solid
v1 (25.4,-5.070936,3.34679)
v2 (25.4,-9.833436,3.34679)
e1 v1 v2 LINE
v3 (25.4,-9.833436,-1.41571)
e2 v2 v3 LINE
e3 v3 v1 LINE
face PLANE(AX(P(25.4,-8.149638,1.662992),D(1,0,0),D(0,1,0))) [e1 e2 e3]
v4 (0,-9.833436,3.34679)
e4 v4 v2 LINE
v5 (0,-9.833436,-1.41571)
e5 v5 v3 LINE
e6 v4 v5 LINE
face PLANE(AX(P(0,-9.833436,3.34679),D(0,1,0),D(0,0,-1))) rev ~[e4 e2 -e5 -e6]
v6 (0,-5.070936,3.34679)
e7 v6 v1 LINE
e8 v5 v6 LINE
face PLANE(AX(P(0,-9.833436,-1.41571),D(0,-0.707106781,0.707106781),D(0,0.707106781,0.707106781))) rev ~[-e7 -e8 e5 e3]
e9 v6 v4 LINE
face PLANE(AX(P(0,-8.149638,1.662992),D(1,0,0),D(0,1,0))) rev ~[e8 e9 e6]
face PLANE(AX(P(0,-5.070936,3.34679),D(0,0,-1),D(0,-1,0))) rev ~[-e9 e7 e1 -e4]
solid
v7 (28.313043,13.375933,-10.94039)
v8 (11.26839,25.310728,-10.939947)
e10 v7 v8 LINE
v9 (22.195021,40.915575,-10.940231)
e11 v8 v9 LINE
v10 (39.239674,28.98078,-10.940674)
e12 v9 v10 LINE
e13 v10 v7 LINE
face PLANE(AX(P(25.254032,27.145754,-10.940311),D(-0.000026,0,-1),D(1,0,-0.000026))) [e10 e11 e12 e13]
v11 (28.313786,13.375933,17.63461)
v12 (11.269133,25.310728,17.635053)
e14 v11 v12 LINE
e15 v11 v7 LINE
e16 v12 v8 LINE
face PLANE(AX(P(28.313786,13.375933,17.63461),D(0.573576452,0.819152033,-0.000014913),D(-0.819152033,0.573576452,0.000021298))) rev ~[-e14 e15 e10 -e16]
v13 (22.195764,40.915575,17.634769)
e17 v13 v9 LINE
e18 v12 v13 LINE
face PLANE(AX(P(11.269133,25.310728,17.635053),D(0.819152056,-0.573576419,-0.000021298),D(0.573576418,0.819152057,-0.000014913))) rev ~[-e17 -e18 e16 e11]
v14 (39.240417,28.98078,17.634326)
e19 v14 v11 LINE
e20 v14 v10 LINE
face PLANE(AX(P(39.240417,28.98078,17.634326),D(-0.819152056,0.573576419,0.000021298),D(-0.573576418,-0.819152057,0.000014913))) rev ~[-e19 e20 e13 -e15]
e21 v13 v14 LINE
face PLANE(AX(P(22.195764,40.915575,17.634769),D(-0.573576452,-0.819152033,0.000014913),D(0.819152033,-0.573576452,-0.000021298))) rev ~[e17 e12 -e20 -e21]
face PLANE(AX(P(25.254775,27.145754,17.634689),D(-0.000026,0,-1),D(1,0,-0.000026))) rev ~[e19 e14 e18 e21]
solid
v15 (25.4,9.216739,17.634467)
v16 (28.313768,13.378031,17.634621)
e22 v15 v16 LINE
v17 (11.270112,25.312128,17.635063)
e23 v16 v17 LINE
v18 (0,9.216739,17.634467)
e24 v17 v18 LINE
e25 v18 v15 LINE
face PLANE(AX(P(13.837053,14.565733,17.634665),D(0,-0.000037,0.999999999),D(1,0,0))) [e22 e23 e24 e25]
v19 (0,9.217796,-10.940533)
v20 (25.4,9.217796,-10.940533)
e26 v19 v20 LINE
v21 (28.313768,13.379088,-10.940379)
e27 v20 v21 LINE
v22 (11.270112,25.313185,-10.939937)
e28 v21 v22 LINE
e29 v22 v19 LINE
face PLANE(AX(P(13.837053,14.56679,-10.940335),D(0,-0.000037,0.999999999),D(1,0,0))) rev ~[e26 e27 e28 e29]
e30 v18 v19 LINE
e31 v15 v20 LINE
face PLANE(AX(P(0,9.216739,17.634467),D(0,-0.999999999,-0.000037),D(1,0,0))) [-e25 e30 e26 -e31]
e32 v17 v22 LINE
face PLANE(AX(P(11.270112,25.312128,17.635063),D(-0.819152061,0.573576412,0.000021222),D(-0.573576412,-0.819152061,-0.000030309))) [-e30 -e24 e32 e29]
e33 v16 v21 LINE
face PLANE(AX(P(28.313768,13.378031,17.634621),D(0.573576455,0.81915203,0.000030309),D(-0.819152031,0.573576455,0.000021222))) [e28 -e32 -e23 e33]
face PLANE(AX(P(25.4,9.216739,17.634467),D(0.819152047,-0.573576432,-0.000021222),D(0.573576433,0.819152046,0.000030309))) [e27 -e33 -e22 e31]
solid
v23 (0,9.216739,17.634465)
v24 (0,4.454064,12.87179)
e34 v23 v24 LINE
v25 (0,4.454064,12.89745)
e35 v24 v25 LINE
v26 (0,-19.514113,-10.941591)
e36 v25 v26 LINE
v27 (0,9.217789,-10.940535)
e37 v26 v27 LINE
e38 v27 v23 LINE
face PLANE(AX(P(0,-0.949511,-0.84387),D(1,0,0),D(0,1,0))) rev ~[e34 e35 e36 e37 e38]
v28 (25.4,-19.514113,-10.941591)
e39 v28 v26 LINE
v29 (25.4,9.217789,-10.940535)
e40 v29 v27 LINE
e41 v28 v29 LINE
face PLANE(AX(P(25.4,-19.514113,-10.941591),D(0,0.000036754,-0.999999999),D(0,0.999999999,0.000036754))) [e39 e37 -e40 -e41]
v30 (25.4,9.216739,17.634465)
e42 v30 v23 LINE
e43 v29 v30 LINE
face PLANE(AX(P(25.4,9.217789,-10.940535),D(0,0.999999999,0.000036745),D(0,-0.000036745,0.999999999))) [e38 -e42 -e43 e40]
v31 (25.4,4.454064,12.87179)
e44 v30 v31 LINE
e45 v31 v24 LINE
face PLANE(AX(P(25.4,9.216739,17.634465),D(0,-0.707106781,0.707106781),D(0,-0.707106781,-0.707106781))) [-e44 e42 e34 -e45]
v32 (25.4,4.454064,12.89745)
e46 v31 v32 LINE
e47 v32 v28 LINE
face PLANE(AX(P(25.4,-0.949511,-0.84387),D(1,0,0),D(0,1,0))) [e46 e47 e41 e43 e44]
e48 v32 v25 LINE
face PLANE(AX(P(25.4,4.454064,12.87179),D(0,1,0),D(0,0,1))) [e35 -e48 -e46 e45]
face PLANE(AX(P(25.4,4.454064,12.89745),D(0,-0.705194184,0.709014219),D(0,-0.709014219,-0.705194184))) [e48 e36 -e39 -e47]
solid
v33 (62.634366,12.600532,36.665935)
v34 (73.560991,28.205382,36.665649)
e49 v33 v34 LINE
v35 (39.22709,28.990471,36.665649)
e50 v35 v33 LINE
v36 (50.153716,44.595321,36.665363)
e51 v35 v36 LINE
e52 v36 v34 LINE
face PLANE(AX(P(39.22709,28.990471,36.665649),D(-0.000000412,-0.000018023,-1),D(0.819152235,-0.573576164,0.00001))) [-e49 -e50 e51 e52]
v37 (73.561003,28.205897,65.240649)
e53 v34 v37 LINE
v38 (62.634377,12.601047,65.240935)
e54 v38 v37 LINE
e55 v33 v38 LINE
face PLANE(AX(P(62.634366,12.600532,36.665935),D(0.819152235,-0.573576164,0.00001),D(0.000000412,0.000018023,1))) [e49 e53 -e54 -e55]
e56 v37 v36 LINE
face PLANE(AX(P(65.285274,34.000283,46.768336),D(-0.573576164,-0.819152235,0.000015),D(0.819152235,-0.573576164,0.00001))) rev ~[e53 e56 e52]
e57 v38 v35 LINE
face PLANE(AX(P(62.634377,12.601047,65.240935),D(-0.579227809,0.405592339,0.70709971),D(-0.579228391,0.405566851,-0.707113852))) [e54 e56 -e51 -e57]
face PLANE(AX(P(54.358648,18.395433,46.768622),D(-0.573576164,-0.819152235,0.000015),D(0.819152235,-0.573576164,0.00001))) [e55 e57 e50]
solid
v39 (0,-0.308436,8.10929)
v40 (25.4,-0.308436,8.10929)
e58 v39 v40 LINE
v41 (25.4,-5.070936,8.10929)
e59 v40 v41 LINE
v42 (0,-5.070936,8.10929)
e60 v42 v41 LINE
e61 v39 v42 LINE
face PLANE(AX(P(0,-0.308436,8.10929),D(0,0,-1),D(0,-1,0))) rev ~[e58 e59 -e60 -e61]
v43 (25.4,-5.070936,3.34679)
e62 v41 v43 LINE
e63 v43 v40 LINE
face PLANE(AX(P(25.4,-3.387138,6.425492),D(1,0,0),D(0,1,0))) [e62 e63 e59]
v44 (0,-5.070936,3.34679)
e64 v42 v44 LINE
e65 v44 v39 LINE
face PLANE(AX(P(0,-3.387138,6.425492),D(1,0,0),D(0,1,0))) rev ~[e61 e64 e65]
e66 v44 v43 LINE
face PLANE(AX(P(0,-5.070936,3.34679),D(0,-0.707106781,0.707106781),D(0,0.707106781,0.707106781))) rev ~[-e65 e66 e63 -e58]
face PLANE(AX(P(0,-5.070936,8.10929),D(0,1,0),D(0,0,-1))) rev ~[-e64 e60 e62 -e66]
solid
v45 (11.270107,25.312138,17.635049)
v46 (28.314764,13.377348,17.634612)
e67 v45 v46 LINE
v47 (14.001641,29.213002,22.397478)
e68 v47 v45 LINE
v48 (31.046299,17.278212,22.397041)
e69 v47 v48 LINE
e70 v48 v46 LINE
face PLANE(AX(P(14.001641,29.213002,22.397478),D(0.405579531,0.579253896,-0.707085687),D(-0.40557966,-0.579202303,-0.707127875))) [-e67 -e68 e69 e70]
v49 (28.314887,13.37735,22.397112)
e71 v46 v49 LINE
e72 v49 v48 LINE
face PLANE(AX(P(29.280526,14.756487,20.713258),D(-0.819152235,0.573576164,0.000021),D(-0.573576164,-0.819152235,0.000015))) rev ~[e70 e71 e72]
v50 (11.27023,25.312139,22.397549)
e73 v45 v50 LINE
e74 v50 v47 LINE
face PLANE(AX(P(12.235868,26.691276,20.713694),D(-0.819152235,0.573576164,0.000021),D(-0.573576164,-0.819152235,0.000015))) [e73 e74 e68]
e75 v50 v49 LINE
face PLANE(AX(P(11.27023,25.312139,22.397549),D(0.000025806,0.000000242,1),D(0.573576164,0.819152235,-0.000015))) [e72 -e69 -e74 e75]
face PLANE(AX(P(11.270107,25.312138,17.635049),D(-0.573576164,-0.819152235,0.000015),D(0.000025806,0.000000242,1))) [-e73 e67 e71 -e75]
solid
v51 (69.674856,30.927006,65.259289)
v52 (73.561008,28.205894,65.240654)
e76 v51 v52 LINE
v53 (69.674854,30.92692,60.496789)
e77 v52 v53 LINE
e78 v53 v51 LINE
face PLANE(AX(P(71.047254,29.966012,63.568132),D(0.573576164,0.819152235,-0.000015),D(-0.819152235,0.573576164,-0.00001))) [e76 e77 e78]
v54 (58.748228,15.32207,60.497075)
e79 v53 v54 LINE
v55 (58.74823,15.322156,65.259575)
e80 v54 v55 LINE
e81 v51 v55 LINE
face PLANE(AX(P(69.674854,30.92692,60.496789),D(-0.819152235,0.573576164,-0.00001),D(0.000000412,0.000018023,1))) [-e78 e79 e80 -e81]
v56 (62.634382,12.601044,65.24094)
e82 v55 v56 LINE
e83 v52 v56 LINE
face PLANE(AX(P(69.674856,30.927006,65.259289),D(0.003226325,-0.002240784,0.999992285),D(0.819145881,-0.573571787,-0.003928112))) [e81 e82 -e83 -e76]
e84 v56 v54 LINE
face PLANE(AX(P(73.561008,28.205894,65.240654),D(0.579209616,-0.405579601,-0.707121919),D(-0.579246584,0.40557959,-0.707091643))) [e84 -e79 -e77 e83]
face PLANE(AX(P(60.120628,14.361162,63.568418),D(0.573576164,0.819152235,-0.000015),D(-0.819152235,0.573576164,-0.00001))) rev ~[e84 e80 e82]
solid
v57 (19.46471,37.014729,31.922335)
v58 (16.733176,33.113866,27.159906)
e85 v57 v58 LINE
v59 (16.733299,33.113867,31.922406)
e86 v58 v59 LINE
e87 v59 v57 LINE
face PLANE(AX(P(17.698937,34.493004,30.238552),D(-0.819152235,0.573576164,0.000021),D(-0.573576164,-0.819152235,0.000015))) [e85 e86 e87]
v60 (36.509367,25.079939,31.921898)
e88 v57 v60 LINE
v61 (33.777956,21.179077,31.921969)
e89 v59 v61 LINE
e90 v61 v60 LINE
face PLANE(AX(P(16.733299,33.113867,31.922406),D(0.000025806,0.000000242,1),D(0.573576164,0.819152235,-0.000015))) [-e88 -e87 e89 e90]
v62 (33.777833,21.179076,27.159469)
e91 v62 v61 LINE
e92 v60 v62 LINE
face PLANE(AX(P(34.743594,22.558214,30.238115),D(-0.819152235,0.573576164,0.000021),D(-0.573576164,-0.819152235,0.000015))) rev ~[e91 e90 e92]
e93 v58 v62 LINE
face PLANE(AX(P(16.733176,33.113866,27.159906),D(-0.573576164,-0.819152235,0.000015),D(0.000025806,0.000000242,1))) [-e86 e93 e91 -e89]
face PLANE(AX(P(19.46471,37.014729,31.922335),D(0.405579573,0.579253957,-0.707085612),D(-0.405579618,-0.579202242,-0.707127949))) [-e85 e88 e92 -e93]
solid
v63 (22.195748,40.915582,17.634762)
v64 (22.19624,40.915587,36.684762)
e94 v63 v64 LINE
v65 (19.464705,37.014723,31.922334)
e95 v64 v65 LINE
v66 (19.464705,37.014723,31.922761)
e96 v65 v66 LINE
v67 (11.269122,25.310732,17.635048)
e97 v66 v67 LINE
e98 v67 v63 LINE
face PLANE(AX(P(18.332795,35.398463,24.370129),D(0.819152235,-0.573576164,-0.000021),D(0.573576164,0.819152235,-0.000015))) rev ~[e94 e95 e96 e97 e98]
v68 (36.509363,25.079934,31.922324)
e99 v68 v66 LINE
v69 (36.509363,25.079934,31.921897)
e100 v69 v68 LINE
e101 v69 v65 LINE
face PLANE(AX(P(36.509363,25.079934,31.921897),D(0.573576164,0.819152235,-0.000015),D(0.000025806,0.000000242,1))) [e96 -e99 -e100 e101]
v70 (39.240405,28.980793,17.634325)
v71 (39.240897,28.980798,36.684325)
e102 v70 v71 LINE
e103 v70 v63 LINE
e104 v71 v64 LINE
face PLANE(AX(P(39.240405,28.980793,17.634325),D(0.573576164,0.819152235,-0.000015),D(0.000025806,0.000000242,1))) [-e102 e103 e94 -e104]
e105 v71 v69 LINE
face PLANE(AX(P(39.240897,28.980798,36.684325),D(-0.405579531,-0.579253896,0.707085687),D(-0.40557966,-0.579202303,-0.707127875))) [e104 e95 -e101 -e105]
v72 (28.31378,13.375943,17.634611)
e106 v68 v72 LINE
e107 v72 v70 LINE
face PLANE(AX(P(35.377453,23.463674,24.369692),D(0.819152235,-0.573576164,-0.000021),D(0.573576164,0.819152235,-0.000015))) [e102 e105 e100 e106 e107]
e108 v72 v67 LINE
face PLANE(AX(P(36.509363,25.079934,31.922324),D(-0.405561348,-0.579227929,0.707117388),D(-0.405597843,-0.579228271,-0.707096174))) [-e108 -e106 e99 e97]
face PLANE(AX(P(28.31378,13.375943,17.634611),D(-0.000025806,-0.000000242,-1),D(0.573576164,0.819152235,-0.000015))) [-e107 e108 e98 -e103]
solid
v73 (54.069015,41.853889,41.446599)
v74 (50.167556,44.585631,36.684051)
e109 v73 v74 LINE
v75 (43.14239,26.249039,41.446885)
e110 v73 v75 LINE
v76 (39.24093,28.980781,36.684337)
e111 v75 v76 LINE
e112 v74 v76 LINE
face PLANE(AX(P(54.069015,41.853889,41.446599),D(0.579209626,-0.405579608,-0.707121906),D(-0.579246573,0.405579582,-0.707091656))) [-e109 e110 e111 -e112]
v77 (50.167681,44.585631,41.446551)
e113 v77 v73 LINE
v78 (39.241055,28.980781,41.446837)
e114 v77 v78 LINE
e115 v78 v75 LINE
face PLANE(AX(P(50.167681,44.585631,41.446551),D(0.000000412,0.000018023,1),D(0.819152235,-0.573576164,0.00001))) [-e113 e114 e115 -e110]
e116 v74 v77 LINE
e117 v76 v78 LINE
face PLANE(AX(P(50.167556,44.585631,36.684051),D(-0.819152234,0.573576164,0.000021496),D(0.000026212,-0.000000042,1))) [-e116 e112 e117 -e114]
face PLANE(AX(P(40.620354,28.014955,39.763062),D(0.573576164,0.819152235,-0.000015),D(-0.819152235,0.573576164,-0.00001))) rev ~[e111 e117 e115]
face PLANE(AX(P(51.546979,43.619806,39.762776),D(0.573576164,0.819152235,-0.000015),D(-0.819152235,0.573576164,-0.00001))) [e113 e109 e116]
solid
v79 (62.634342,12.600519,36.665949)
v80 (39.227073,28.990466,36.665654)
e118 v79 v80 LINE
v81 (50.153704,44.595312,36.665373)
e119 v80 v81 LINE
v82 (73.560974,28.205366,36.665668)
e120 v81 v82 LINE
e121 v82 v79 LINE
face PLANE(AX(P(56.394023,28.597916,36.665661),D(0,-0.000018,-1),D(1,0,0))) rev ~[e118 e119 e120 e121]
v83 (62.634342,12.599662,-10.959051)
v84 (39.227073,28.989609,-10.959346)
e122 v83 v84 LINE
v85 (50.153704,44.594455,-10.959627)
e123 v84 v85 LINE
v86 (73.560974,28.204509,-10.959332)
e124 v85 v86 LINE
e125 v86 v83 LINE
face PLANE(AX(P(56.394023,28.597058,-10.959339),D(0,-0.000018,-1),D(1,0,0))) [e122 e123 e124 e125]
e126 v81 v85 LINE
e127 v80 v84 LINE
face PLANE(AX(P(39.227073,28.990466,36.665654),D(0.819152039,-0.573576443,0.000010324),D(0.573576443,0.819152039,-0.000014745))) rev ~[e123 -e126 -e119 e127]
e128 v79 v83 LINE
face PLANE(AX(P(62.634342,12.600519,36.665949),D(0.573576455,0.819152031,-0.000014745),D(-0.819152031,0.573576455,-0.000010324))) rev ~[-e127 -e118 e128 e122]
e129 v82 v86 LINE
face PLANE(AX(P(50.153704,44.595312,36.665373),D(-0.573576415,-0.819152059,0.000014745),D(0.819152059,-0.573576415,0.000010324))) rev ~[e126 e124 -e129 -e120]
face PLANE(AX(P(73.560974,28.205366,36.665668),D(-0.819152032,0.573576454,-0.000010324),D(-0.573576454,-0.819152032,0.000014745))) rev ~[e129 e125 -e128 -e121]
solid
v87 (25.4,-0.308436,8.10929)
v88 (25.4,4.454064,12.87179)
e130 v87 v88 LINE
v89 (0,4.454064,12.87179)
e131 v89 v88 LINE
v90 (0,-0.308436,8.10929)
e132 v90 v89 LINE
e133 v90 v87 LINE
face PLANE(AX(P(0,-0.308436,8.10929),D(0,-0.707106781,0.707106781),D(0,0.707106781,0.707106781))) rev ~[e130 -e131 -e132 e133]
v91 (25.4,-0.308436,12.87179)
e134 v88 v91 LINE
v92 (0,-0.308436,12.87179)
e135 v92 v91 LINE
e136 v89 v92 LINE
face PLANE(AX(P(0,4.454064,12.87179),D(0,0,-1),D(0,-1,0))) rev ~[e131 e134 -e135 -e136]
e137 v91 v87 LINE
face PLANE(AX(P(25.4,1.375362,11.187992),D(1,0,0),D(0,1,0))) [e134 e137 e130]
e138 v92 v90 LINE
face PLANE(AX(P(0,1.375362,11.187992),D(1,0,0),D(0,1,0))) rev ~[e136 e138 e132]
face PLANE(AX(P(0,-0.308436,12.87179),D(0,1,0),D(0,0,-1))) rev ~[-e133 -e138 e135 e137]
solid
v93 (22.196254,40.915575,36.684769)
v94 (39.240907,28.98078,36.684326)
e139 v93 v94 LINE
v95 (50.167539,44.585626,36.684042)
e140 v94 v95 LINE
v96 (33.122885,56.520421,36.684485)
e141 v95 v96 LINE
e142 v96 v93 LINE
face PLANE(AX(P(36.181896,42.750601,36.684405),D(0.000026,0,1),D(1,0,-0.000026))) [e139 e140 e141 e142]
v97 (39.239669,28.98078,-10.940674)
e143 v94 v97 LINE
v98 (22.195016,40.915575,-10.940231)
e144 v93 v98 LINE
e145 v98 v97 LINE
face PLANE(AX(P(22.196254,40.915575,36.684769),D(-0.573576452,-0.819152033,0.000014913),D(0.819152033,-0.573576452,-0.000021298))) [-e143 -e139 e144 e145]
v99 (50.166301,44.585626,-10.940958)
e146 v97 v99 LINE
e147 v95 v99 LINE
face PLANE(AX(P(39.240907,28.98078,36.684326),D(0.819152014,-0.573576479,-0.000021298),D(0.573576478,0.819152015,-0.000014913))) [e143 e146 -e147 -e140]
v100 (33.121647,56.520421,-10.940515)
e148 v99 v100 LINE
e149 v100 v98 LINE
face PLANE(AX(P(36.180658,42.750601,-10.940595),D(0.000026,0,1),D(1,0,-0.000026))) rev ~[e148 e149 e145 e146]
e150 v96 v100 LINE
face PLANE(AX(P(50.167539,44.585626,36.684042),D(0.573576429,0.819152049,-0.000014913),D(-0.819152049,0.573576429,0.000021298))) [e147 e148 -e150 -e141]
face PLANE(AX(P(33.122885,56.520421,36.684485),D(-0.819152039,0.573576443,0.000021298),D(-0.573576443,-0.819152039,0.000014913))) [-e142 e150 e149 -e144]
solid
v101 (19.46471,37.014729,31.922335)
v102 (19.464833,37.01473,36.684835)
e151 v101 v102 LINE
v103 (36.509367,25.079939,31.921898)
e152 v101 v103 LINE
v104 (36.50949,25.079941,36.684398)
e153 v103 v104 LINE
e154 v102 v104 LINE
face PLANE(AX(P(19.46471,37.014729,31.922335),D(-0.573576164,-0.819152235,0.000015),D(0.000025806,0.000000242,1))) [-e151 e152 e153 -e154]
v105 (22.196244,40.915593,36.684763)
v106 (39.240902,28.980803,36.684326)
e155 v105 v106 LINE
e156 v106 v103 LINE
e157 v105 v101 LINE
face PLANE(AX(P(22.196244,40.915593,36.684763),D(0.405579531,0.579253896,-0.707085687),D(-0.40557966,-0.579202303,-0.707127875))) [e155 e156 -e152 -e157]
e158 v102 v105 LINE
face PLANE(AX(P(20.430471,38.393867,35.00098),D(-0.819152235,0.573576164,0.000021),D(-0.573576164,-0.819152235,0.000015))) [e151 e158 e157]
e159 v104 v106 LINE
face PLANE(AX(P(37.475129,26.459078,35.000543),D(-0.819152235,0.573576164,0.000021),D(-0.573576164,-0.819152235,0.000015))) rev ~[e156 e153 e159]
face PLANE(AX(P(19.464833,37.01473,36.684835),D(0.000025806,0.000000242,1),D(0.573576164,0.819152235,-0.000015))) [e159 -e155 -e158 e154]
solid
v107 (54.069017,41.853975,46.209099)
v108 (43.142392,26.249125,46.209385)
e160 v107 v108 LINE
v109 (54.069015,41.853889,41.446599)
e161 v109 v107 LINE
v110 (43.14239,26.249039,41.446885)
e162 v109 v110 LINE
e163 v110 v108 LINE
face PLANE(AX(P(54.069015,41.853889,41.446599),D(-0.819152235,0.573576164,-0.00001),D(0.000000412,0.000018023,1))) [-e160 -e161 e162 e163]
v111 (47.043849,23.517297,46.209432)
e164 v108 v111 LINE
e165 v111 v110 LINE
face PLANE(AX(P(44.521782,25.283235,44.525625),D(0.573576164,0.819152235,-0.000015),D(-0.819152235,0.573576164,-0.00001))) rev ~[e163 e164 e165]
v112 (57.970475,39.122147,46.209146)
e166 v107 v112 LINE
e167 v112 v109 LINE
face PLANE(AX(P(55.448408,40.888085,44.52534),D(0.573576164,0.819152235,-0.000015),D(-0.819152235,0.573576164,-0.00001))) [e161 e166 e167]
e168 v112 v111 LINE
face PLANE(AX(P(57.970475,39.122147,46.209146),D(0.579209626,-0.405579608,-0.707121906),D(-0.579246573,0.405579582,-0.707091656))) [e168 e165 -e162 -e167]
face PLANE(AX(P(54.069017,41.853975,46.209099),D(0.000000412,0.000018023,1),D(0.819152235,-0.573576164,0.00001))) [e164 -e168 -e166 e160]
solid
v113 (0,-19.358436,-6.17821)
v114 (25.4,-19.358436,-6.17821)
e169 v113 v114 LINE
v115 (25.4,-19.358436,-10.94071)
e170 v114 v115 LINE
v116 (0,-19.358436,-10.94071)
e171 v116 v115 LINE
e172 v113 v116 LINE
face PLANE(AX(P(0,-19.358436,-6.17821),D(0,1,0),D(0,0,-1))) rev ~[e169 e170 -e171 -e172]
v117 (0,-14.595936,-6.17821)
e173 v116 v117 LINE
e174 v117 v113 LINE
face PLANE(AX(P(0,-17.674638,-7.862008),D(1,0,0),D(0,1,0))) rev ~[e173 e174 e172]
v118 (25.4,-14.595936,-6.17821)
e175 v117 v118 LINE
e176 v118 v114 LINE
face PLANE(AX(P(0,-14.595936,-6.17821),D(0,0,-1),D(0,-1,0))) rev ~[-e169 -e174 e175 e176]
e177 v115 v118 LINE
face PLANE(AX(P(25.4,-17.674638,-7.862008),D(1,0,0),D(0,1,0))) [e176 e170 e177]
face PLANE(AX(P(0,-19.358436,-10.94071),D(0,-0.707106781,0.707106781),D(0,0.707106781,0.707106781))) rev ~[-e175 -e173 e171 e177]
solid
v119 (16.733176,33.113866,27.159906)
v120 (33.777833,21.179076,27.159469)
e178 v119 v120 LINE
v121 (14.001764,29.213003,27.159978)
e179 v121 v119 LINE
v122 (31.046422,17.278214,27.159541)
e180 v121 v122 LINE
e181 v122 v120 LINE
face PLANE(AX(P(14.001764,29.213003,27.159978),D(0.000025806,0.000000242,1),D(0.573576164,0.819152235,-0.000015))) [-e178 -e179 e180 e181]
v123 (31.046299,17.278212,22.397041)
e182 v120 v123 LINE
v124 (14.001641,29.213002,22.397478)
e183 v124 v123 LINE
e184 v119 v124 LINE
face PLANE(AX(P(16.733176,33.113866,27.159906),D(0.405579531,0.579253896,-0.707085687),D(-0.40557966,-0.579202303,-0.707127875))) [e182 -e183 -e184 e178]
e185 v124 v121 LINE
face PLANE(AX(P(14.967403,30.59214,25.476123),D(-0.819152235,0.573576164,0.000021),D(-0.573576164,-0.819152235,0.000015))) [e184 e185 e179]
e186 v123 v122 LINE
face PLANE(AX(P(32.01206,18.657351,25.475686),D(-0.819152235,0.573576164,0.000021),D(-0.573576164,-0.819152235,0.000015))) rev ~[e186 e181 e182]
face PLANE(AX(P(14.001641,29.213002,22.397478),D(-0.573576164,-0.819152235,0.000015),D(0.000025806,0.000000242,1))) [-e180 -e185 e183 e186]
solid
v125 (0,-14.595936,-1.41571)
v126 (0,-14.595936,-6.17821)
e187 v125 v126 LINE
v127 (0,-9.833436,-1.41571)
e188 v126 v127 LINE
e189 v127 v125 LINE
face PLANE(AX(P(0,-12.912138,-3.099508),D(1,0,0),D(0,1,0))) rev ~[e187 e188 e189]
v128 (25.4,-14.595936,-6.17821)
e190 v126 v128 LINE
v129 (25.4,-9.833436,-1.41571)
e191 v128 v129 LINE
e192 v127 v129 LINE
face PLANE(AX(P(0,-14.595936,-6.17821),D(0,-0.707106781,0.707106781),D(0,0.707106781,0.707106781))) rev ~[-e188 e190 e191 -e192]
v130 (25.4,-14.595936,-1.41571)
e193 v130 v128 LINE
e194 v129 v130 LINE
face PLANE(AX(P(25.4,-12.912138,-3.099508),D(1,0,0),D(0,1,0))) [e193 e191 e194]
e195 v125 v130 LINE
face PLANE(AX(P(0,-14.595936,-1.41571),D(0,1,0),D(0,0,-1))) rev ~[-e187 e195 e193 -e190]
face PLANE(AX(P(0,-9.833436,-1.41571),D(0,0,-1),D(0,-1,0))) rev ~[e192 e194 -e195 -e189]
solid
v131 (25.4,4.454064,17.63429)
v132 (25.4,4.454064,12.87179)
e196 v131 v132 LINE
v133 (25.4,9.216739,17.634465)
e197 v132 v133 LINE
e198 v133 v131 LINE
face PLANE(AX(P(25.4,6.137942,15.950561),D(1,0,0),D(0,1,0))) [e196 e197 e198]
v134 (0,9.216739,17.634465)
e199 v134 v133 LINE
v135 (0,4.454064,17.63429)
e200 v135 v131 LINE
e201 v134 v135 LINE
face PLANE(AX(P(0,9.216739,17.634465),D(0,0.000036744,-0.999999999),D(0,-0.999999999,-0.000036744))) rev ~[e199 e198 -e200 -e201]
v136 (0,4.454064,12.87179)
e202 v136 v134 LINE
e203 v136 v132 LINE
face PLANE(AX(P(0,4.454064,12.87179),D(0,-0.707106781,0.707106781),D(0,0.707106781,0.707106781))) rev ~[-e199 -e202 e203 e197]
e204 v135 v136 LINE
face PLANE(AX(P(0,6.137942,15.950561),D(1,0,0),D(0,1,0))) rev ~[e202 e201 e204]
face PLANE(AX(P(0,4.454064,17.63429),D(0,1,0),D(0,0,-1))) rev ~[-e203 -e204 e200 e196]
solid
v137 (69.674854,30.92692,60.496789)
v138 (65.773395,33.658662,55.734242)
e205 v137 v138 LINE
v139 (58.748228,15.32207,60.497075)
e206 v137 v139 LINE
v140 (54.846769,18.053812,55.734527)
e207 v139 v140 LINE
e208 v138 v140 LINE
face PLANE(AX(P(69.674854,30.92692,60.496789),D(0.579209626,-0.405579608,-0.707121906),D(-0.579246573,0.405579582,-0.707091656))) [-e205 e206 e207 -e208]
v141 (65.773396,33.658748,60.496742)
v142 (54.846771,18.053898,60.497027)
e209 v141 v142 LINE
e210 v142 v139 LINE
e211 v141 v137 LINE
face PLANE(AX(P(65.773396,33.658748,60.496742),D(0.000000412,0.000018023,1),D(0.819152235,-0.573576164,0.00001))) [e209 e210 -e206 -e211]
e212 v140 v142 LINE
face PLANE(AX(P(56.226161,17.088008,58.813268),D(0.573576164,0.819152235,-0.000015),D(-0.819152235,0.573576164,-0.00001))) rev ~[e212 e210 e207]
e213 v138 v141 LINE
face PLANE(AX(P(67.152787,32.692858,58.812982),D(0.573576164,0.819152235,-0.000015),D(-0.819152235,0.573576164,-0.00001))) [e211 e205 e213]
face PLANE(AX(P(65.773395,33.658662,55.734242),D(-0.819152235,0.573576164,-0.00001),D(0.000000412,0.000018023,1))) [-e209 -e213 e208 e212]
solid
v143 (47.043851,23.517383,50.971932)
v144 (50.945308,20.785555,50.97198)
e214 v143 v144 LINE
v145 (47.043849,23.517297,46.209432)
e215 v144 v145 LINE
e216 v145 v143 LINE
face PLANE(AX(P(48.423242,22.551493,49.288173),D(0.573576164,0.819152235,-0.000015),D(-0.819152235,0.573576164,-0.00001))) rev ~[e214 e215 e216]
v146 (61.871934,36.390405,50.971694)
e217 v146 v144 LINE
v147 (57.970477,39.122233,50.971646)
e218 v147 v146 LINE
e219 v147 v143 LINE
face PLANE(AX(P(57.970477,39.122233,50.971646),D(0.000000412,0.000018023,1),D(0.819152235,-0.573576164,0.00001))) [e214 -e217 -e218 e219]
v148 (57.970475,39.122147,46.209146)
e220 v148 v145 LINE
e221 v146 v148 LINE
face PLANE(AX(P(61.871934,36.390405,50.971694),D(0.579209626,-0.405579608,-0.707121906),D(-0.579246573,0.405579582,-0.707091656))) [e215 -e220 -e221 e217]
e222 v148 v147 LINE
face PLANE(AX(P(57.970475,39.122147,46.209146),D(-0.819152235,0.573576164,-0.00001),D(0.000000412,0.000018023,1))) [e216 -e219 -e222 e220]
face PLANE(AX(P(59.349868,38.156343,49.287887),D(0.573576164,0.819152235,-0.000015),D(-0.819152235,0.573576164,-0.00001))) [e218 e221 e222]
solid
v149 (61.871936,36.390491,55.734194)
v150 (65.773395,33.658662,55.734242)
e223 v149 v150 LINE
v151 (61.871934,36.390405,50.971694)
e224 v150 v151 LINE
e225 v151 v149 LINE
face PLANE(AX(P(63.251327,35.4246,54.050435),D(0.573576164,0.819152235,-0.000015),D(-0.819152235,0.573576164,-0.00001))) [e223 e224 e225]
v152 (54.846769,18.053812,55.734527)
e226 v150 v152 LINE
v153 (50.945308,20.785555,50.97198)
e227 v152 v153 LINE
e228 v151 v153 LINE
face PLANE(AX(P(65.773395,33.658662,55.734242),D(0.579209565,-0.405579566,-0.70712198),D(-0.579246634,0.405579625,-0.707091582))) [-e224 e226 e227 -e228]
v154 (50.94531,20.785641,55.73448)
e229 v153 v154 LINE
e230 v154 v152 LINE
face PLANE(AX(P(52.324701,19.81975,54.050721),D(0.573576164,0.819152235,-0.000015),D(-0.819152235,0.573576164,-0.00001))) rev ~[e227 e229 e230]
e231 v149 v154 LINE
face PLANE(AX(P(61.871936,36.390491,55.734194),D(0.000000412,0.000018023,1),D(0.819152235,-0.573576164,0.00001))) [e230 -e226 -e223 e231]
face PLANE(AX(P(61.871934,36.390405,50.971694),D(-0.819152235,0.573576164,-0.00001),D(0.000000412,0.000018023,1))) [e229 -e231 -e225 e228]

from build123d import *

# Parameters (mm, degrees)
F1_DEPTH  = 25.4
F3_DEPTH  = 28.575
F5_DEPTH  = 20.80768
F7_DEPTH  = 47.625
F9_DEPTH  = 19.05
F11_DEPTH = 25.4
F13_DEPTH = 20.80768
F15_DEPTH = 19.05
F17_DEPTH = 47.625
F19_DEPTH = 28.575


with BuildPart() as f1:
    # F0 (on Right) → F1 (new body)
    with BuildSketch(Plane.YZ):
        Polygon((4.454064, 17.63429), (4.454064, 12.87179), (9.216739, 17.634465), align=None)
        Polygon((-0.308436, 12.87179), (-0.308436, 8.10929), (4.454064, 12.87179), align=None)
        Polygon((-5.070936, 8.10929), (-5.070936, 3.34679), (-0.308436, 8.10929), align=None)
        Polygon((-9.833436, 3.34679), (-9.833436, -1.41571), (-5.070936, 3.34679), align=None)
        Polygon((-14.595936, -1.41571), (-14.595936, -6.17821), (-9.833436, -1.41571), align=None)
        Polygon((-19.358436, -6.17821), (-19.358436, -10.94071), (-14.595936, -6.17821), align=None)
    extrude(amount=F1_DEPTH)


with BuildPart() as f3:
    # F2 (on face) → F3 (new body)
    with BuildSketch(Plane(origin=(0, -0.000648, 17.634126), x_dir=(1, 0, 0), z_dir=(0, -3.7e-05, 1))):
        Polygon((11.270112, 25.312776), (0, 9.217387), (25.4, 9.217387), (28.313768, 13.378679), align=None)
    extrude(amount=-F3_DEPTH)


with BuildPart() as f5:
    # F4 (on face) → F5 (new body)
    with BuildSketch(Plane(origin=(-4.330755, 3.032428, 0.000111), x_dir=(-0.573576, -0.819152, 1.5e-05), z_dir=(-0.819152, 0.573576, 2.1e-05))):
        Polygon((-36.722638, 27.160346), (-31.960565, 22.397846), (-31.960565, 27.160346), align=None)
        Polygon((-31.960565, 22.397846), (-27.198492, 17.635346), (-27.198492, 22.397846), align=None)
        Polygon((-41.48471, 31.922846), (-36.722638, 27.160346), (-36.722638, 31.922846), align=None)
        Polygon((-46.246783, 36.685346), (-41.48471, 31.922846), (-41.48471, 36.685346), align=None)
    extrude(amount=-F5_DEPTH)


with BuildPart() as f7:
    # F6 (on face) → F7 (new body)
    with BuildSketch(Plane(origin=(0.000944, 0, 36.685346), x_dir=(1, 0, -2.6e-05), z_dir=(2.6e-05, 0, 1))):
        Polygon((33.121941, 56.520421), (22.19531, 40.915575), (39.239963, 28.98078), (50.166595, 44.585626), align=None)
    extrude(amount=-F7_DEPTH)


with BuildPart() as f9:
    # F8 (on face) → F9 (new body)
    with BuildSketch(Plane(origin=(37.452696, 53.487994, -0.000963), x_dir=(-0.819152, 0.573576, -1e-05), z_dir=(0.573576, 0.819152, -1.5e-05))):
        Polygon((-44.080067, 65.241176), (-39.335952, 60.497359), (-39.335952, 65.259859), align=None)
        Polygon((-39.335952, 60.497359), (-34.573153, 55.734859), (-34.573153, 60.497359), align=None)
        Polygon((-34.573153, 55.734859), (-29.810353, 50.972359), (-29.810353, 55.734859), align=None)
        Polygon((-29.810353, 50.972359), (-25.047554, 46.209859), (-25.047554, 50.972359), align=None)
        Polygon((-25.047554, 46.209859), (-20.284755, 41.447359), (-20.284755, 46.209859), align=None)
        Polygon((-20.284755, 41.447359), (-15.521956, 36.684859), (-15.522106, 41.447359), align=None)
    extrude(amount=-F9_DEPTH)


with BuildPart() as f11:
    # F10 (on face) → F11 (new body)
    with BuildSketch(Plane.YZ.offset(25.4)):
        Polygon((9.217789, -10.940535), (9.216739, 17.634465), (4.454064, 12.87179), (4.454064, 12.89745), (-19.514113, -10.941591), align=None)
    extrude(amount=-F11_DEPTH)


with BuildPart() as f13:
    # F12 (on face) → F13 (new body)
    with BuildSketch(Plane(origin=(12.713898, -8.902367, -0.000327), x_dir=(0.573576, 0.819152, -1.5e-05), z_dir=(0.819152, -0.573576, -2.1e-05))):
        Polygon((46.246783, 17.635346), (46.246783, 36.685346), (41.48471, 31.922846), (41.48471, 31.923273), (27.196783, 17.635346), align=None)
    extrude(amount=-F13_DEPTH)


with BuildPart() as f15:
    # F14 (on face) → F15 (new body)
    with BuildSketch(Plane(origin=(26.526065, 37.883147, -0.000682), x_dir=(0.819152, -0.573576, 1e-05), z_dir=(-0.573576, -0.819152, 1.5e-05))):
        Polygon((44.080067, 36.666176), (44.080067, 65.241176), (15.505067, 36.666176), align=None)
    extrude(amount=-F15_DEPTH)


with BuildPart() as f17:
    # F16 (on face) → F17 (new body)
    with BuildSketch(Plane(origin=(0, 0.00066, 36.666176), x_dir=(1, 0, 0), z_dir=(0, -1.8e-05, -1))):
        Polygon((50.153704, -44.594652), (73.560974, -28.204706), (62.634342, -12.599859), (39.227073, -28.989806), align=None)
    extrude(amount=F17_DEPTH)


with BuildPart() as f19:
    # F18 (on face) → F19 (new body)
    with BuildSketch(Plane(origin=(0.000454, 0, 17.635346), x_dir=(1, 0, -2.6e-05), z_dir=(-2.6e-05, 0, -1))):
        Polygon((11.268679, -25.310728), (22.19531, -40.915575), (39.239963, -28.98078), (28.313332, -13.375933), align=None)
    extrude(amount=F19_DEPTH)


solid = Compound([f1.part, f3.part, f5.part, f7.part, f9.part, f11.part, f13.part, f15.part, f17.part, f19.part])
